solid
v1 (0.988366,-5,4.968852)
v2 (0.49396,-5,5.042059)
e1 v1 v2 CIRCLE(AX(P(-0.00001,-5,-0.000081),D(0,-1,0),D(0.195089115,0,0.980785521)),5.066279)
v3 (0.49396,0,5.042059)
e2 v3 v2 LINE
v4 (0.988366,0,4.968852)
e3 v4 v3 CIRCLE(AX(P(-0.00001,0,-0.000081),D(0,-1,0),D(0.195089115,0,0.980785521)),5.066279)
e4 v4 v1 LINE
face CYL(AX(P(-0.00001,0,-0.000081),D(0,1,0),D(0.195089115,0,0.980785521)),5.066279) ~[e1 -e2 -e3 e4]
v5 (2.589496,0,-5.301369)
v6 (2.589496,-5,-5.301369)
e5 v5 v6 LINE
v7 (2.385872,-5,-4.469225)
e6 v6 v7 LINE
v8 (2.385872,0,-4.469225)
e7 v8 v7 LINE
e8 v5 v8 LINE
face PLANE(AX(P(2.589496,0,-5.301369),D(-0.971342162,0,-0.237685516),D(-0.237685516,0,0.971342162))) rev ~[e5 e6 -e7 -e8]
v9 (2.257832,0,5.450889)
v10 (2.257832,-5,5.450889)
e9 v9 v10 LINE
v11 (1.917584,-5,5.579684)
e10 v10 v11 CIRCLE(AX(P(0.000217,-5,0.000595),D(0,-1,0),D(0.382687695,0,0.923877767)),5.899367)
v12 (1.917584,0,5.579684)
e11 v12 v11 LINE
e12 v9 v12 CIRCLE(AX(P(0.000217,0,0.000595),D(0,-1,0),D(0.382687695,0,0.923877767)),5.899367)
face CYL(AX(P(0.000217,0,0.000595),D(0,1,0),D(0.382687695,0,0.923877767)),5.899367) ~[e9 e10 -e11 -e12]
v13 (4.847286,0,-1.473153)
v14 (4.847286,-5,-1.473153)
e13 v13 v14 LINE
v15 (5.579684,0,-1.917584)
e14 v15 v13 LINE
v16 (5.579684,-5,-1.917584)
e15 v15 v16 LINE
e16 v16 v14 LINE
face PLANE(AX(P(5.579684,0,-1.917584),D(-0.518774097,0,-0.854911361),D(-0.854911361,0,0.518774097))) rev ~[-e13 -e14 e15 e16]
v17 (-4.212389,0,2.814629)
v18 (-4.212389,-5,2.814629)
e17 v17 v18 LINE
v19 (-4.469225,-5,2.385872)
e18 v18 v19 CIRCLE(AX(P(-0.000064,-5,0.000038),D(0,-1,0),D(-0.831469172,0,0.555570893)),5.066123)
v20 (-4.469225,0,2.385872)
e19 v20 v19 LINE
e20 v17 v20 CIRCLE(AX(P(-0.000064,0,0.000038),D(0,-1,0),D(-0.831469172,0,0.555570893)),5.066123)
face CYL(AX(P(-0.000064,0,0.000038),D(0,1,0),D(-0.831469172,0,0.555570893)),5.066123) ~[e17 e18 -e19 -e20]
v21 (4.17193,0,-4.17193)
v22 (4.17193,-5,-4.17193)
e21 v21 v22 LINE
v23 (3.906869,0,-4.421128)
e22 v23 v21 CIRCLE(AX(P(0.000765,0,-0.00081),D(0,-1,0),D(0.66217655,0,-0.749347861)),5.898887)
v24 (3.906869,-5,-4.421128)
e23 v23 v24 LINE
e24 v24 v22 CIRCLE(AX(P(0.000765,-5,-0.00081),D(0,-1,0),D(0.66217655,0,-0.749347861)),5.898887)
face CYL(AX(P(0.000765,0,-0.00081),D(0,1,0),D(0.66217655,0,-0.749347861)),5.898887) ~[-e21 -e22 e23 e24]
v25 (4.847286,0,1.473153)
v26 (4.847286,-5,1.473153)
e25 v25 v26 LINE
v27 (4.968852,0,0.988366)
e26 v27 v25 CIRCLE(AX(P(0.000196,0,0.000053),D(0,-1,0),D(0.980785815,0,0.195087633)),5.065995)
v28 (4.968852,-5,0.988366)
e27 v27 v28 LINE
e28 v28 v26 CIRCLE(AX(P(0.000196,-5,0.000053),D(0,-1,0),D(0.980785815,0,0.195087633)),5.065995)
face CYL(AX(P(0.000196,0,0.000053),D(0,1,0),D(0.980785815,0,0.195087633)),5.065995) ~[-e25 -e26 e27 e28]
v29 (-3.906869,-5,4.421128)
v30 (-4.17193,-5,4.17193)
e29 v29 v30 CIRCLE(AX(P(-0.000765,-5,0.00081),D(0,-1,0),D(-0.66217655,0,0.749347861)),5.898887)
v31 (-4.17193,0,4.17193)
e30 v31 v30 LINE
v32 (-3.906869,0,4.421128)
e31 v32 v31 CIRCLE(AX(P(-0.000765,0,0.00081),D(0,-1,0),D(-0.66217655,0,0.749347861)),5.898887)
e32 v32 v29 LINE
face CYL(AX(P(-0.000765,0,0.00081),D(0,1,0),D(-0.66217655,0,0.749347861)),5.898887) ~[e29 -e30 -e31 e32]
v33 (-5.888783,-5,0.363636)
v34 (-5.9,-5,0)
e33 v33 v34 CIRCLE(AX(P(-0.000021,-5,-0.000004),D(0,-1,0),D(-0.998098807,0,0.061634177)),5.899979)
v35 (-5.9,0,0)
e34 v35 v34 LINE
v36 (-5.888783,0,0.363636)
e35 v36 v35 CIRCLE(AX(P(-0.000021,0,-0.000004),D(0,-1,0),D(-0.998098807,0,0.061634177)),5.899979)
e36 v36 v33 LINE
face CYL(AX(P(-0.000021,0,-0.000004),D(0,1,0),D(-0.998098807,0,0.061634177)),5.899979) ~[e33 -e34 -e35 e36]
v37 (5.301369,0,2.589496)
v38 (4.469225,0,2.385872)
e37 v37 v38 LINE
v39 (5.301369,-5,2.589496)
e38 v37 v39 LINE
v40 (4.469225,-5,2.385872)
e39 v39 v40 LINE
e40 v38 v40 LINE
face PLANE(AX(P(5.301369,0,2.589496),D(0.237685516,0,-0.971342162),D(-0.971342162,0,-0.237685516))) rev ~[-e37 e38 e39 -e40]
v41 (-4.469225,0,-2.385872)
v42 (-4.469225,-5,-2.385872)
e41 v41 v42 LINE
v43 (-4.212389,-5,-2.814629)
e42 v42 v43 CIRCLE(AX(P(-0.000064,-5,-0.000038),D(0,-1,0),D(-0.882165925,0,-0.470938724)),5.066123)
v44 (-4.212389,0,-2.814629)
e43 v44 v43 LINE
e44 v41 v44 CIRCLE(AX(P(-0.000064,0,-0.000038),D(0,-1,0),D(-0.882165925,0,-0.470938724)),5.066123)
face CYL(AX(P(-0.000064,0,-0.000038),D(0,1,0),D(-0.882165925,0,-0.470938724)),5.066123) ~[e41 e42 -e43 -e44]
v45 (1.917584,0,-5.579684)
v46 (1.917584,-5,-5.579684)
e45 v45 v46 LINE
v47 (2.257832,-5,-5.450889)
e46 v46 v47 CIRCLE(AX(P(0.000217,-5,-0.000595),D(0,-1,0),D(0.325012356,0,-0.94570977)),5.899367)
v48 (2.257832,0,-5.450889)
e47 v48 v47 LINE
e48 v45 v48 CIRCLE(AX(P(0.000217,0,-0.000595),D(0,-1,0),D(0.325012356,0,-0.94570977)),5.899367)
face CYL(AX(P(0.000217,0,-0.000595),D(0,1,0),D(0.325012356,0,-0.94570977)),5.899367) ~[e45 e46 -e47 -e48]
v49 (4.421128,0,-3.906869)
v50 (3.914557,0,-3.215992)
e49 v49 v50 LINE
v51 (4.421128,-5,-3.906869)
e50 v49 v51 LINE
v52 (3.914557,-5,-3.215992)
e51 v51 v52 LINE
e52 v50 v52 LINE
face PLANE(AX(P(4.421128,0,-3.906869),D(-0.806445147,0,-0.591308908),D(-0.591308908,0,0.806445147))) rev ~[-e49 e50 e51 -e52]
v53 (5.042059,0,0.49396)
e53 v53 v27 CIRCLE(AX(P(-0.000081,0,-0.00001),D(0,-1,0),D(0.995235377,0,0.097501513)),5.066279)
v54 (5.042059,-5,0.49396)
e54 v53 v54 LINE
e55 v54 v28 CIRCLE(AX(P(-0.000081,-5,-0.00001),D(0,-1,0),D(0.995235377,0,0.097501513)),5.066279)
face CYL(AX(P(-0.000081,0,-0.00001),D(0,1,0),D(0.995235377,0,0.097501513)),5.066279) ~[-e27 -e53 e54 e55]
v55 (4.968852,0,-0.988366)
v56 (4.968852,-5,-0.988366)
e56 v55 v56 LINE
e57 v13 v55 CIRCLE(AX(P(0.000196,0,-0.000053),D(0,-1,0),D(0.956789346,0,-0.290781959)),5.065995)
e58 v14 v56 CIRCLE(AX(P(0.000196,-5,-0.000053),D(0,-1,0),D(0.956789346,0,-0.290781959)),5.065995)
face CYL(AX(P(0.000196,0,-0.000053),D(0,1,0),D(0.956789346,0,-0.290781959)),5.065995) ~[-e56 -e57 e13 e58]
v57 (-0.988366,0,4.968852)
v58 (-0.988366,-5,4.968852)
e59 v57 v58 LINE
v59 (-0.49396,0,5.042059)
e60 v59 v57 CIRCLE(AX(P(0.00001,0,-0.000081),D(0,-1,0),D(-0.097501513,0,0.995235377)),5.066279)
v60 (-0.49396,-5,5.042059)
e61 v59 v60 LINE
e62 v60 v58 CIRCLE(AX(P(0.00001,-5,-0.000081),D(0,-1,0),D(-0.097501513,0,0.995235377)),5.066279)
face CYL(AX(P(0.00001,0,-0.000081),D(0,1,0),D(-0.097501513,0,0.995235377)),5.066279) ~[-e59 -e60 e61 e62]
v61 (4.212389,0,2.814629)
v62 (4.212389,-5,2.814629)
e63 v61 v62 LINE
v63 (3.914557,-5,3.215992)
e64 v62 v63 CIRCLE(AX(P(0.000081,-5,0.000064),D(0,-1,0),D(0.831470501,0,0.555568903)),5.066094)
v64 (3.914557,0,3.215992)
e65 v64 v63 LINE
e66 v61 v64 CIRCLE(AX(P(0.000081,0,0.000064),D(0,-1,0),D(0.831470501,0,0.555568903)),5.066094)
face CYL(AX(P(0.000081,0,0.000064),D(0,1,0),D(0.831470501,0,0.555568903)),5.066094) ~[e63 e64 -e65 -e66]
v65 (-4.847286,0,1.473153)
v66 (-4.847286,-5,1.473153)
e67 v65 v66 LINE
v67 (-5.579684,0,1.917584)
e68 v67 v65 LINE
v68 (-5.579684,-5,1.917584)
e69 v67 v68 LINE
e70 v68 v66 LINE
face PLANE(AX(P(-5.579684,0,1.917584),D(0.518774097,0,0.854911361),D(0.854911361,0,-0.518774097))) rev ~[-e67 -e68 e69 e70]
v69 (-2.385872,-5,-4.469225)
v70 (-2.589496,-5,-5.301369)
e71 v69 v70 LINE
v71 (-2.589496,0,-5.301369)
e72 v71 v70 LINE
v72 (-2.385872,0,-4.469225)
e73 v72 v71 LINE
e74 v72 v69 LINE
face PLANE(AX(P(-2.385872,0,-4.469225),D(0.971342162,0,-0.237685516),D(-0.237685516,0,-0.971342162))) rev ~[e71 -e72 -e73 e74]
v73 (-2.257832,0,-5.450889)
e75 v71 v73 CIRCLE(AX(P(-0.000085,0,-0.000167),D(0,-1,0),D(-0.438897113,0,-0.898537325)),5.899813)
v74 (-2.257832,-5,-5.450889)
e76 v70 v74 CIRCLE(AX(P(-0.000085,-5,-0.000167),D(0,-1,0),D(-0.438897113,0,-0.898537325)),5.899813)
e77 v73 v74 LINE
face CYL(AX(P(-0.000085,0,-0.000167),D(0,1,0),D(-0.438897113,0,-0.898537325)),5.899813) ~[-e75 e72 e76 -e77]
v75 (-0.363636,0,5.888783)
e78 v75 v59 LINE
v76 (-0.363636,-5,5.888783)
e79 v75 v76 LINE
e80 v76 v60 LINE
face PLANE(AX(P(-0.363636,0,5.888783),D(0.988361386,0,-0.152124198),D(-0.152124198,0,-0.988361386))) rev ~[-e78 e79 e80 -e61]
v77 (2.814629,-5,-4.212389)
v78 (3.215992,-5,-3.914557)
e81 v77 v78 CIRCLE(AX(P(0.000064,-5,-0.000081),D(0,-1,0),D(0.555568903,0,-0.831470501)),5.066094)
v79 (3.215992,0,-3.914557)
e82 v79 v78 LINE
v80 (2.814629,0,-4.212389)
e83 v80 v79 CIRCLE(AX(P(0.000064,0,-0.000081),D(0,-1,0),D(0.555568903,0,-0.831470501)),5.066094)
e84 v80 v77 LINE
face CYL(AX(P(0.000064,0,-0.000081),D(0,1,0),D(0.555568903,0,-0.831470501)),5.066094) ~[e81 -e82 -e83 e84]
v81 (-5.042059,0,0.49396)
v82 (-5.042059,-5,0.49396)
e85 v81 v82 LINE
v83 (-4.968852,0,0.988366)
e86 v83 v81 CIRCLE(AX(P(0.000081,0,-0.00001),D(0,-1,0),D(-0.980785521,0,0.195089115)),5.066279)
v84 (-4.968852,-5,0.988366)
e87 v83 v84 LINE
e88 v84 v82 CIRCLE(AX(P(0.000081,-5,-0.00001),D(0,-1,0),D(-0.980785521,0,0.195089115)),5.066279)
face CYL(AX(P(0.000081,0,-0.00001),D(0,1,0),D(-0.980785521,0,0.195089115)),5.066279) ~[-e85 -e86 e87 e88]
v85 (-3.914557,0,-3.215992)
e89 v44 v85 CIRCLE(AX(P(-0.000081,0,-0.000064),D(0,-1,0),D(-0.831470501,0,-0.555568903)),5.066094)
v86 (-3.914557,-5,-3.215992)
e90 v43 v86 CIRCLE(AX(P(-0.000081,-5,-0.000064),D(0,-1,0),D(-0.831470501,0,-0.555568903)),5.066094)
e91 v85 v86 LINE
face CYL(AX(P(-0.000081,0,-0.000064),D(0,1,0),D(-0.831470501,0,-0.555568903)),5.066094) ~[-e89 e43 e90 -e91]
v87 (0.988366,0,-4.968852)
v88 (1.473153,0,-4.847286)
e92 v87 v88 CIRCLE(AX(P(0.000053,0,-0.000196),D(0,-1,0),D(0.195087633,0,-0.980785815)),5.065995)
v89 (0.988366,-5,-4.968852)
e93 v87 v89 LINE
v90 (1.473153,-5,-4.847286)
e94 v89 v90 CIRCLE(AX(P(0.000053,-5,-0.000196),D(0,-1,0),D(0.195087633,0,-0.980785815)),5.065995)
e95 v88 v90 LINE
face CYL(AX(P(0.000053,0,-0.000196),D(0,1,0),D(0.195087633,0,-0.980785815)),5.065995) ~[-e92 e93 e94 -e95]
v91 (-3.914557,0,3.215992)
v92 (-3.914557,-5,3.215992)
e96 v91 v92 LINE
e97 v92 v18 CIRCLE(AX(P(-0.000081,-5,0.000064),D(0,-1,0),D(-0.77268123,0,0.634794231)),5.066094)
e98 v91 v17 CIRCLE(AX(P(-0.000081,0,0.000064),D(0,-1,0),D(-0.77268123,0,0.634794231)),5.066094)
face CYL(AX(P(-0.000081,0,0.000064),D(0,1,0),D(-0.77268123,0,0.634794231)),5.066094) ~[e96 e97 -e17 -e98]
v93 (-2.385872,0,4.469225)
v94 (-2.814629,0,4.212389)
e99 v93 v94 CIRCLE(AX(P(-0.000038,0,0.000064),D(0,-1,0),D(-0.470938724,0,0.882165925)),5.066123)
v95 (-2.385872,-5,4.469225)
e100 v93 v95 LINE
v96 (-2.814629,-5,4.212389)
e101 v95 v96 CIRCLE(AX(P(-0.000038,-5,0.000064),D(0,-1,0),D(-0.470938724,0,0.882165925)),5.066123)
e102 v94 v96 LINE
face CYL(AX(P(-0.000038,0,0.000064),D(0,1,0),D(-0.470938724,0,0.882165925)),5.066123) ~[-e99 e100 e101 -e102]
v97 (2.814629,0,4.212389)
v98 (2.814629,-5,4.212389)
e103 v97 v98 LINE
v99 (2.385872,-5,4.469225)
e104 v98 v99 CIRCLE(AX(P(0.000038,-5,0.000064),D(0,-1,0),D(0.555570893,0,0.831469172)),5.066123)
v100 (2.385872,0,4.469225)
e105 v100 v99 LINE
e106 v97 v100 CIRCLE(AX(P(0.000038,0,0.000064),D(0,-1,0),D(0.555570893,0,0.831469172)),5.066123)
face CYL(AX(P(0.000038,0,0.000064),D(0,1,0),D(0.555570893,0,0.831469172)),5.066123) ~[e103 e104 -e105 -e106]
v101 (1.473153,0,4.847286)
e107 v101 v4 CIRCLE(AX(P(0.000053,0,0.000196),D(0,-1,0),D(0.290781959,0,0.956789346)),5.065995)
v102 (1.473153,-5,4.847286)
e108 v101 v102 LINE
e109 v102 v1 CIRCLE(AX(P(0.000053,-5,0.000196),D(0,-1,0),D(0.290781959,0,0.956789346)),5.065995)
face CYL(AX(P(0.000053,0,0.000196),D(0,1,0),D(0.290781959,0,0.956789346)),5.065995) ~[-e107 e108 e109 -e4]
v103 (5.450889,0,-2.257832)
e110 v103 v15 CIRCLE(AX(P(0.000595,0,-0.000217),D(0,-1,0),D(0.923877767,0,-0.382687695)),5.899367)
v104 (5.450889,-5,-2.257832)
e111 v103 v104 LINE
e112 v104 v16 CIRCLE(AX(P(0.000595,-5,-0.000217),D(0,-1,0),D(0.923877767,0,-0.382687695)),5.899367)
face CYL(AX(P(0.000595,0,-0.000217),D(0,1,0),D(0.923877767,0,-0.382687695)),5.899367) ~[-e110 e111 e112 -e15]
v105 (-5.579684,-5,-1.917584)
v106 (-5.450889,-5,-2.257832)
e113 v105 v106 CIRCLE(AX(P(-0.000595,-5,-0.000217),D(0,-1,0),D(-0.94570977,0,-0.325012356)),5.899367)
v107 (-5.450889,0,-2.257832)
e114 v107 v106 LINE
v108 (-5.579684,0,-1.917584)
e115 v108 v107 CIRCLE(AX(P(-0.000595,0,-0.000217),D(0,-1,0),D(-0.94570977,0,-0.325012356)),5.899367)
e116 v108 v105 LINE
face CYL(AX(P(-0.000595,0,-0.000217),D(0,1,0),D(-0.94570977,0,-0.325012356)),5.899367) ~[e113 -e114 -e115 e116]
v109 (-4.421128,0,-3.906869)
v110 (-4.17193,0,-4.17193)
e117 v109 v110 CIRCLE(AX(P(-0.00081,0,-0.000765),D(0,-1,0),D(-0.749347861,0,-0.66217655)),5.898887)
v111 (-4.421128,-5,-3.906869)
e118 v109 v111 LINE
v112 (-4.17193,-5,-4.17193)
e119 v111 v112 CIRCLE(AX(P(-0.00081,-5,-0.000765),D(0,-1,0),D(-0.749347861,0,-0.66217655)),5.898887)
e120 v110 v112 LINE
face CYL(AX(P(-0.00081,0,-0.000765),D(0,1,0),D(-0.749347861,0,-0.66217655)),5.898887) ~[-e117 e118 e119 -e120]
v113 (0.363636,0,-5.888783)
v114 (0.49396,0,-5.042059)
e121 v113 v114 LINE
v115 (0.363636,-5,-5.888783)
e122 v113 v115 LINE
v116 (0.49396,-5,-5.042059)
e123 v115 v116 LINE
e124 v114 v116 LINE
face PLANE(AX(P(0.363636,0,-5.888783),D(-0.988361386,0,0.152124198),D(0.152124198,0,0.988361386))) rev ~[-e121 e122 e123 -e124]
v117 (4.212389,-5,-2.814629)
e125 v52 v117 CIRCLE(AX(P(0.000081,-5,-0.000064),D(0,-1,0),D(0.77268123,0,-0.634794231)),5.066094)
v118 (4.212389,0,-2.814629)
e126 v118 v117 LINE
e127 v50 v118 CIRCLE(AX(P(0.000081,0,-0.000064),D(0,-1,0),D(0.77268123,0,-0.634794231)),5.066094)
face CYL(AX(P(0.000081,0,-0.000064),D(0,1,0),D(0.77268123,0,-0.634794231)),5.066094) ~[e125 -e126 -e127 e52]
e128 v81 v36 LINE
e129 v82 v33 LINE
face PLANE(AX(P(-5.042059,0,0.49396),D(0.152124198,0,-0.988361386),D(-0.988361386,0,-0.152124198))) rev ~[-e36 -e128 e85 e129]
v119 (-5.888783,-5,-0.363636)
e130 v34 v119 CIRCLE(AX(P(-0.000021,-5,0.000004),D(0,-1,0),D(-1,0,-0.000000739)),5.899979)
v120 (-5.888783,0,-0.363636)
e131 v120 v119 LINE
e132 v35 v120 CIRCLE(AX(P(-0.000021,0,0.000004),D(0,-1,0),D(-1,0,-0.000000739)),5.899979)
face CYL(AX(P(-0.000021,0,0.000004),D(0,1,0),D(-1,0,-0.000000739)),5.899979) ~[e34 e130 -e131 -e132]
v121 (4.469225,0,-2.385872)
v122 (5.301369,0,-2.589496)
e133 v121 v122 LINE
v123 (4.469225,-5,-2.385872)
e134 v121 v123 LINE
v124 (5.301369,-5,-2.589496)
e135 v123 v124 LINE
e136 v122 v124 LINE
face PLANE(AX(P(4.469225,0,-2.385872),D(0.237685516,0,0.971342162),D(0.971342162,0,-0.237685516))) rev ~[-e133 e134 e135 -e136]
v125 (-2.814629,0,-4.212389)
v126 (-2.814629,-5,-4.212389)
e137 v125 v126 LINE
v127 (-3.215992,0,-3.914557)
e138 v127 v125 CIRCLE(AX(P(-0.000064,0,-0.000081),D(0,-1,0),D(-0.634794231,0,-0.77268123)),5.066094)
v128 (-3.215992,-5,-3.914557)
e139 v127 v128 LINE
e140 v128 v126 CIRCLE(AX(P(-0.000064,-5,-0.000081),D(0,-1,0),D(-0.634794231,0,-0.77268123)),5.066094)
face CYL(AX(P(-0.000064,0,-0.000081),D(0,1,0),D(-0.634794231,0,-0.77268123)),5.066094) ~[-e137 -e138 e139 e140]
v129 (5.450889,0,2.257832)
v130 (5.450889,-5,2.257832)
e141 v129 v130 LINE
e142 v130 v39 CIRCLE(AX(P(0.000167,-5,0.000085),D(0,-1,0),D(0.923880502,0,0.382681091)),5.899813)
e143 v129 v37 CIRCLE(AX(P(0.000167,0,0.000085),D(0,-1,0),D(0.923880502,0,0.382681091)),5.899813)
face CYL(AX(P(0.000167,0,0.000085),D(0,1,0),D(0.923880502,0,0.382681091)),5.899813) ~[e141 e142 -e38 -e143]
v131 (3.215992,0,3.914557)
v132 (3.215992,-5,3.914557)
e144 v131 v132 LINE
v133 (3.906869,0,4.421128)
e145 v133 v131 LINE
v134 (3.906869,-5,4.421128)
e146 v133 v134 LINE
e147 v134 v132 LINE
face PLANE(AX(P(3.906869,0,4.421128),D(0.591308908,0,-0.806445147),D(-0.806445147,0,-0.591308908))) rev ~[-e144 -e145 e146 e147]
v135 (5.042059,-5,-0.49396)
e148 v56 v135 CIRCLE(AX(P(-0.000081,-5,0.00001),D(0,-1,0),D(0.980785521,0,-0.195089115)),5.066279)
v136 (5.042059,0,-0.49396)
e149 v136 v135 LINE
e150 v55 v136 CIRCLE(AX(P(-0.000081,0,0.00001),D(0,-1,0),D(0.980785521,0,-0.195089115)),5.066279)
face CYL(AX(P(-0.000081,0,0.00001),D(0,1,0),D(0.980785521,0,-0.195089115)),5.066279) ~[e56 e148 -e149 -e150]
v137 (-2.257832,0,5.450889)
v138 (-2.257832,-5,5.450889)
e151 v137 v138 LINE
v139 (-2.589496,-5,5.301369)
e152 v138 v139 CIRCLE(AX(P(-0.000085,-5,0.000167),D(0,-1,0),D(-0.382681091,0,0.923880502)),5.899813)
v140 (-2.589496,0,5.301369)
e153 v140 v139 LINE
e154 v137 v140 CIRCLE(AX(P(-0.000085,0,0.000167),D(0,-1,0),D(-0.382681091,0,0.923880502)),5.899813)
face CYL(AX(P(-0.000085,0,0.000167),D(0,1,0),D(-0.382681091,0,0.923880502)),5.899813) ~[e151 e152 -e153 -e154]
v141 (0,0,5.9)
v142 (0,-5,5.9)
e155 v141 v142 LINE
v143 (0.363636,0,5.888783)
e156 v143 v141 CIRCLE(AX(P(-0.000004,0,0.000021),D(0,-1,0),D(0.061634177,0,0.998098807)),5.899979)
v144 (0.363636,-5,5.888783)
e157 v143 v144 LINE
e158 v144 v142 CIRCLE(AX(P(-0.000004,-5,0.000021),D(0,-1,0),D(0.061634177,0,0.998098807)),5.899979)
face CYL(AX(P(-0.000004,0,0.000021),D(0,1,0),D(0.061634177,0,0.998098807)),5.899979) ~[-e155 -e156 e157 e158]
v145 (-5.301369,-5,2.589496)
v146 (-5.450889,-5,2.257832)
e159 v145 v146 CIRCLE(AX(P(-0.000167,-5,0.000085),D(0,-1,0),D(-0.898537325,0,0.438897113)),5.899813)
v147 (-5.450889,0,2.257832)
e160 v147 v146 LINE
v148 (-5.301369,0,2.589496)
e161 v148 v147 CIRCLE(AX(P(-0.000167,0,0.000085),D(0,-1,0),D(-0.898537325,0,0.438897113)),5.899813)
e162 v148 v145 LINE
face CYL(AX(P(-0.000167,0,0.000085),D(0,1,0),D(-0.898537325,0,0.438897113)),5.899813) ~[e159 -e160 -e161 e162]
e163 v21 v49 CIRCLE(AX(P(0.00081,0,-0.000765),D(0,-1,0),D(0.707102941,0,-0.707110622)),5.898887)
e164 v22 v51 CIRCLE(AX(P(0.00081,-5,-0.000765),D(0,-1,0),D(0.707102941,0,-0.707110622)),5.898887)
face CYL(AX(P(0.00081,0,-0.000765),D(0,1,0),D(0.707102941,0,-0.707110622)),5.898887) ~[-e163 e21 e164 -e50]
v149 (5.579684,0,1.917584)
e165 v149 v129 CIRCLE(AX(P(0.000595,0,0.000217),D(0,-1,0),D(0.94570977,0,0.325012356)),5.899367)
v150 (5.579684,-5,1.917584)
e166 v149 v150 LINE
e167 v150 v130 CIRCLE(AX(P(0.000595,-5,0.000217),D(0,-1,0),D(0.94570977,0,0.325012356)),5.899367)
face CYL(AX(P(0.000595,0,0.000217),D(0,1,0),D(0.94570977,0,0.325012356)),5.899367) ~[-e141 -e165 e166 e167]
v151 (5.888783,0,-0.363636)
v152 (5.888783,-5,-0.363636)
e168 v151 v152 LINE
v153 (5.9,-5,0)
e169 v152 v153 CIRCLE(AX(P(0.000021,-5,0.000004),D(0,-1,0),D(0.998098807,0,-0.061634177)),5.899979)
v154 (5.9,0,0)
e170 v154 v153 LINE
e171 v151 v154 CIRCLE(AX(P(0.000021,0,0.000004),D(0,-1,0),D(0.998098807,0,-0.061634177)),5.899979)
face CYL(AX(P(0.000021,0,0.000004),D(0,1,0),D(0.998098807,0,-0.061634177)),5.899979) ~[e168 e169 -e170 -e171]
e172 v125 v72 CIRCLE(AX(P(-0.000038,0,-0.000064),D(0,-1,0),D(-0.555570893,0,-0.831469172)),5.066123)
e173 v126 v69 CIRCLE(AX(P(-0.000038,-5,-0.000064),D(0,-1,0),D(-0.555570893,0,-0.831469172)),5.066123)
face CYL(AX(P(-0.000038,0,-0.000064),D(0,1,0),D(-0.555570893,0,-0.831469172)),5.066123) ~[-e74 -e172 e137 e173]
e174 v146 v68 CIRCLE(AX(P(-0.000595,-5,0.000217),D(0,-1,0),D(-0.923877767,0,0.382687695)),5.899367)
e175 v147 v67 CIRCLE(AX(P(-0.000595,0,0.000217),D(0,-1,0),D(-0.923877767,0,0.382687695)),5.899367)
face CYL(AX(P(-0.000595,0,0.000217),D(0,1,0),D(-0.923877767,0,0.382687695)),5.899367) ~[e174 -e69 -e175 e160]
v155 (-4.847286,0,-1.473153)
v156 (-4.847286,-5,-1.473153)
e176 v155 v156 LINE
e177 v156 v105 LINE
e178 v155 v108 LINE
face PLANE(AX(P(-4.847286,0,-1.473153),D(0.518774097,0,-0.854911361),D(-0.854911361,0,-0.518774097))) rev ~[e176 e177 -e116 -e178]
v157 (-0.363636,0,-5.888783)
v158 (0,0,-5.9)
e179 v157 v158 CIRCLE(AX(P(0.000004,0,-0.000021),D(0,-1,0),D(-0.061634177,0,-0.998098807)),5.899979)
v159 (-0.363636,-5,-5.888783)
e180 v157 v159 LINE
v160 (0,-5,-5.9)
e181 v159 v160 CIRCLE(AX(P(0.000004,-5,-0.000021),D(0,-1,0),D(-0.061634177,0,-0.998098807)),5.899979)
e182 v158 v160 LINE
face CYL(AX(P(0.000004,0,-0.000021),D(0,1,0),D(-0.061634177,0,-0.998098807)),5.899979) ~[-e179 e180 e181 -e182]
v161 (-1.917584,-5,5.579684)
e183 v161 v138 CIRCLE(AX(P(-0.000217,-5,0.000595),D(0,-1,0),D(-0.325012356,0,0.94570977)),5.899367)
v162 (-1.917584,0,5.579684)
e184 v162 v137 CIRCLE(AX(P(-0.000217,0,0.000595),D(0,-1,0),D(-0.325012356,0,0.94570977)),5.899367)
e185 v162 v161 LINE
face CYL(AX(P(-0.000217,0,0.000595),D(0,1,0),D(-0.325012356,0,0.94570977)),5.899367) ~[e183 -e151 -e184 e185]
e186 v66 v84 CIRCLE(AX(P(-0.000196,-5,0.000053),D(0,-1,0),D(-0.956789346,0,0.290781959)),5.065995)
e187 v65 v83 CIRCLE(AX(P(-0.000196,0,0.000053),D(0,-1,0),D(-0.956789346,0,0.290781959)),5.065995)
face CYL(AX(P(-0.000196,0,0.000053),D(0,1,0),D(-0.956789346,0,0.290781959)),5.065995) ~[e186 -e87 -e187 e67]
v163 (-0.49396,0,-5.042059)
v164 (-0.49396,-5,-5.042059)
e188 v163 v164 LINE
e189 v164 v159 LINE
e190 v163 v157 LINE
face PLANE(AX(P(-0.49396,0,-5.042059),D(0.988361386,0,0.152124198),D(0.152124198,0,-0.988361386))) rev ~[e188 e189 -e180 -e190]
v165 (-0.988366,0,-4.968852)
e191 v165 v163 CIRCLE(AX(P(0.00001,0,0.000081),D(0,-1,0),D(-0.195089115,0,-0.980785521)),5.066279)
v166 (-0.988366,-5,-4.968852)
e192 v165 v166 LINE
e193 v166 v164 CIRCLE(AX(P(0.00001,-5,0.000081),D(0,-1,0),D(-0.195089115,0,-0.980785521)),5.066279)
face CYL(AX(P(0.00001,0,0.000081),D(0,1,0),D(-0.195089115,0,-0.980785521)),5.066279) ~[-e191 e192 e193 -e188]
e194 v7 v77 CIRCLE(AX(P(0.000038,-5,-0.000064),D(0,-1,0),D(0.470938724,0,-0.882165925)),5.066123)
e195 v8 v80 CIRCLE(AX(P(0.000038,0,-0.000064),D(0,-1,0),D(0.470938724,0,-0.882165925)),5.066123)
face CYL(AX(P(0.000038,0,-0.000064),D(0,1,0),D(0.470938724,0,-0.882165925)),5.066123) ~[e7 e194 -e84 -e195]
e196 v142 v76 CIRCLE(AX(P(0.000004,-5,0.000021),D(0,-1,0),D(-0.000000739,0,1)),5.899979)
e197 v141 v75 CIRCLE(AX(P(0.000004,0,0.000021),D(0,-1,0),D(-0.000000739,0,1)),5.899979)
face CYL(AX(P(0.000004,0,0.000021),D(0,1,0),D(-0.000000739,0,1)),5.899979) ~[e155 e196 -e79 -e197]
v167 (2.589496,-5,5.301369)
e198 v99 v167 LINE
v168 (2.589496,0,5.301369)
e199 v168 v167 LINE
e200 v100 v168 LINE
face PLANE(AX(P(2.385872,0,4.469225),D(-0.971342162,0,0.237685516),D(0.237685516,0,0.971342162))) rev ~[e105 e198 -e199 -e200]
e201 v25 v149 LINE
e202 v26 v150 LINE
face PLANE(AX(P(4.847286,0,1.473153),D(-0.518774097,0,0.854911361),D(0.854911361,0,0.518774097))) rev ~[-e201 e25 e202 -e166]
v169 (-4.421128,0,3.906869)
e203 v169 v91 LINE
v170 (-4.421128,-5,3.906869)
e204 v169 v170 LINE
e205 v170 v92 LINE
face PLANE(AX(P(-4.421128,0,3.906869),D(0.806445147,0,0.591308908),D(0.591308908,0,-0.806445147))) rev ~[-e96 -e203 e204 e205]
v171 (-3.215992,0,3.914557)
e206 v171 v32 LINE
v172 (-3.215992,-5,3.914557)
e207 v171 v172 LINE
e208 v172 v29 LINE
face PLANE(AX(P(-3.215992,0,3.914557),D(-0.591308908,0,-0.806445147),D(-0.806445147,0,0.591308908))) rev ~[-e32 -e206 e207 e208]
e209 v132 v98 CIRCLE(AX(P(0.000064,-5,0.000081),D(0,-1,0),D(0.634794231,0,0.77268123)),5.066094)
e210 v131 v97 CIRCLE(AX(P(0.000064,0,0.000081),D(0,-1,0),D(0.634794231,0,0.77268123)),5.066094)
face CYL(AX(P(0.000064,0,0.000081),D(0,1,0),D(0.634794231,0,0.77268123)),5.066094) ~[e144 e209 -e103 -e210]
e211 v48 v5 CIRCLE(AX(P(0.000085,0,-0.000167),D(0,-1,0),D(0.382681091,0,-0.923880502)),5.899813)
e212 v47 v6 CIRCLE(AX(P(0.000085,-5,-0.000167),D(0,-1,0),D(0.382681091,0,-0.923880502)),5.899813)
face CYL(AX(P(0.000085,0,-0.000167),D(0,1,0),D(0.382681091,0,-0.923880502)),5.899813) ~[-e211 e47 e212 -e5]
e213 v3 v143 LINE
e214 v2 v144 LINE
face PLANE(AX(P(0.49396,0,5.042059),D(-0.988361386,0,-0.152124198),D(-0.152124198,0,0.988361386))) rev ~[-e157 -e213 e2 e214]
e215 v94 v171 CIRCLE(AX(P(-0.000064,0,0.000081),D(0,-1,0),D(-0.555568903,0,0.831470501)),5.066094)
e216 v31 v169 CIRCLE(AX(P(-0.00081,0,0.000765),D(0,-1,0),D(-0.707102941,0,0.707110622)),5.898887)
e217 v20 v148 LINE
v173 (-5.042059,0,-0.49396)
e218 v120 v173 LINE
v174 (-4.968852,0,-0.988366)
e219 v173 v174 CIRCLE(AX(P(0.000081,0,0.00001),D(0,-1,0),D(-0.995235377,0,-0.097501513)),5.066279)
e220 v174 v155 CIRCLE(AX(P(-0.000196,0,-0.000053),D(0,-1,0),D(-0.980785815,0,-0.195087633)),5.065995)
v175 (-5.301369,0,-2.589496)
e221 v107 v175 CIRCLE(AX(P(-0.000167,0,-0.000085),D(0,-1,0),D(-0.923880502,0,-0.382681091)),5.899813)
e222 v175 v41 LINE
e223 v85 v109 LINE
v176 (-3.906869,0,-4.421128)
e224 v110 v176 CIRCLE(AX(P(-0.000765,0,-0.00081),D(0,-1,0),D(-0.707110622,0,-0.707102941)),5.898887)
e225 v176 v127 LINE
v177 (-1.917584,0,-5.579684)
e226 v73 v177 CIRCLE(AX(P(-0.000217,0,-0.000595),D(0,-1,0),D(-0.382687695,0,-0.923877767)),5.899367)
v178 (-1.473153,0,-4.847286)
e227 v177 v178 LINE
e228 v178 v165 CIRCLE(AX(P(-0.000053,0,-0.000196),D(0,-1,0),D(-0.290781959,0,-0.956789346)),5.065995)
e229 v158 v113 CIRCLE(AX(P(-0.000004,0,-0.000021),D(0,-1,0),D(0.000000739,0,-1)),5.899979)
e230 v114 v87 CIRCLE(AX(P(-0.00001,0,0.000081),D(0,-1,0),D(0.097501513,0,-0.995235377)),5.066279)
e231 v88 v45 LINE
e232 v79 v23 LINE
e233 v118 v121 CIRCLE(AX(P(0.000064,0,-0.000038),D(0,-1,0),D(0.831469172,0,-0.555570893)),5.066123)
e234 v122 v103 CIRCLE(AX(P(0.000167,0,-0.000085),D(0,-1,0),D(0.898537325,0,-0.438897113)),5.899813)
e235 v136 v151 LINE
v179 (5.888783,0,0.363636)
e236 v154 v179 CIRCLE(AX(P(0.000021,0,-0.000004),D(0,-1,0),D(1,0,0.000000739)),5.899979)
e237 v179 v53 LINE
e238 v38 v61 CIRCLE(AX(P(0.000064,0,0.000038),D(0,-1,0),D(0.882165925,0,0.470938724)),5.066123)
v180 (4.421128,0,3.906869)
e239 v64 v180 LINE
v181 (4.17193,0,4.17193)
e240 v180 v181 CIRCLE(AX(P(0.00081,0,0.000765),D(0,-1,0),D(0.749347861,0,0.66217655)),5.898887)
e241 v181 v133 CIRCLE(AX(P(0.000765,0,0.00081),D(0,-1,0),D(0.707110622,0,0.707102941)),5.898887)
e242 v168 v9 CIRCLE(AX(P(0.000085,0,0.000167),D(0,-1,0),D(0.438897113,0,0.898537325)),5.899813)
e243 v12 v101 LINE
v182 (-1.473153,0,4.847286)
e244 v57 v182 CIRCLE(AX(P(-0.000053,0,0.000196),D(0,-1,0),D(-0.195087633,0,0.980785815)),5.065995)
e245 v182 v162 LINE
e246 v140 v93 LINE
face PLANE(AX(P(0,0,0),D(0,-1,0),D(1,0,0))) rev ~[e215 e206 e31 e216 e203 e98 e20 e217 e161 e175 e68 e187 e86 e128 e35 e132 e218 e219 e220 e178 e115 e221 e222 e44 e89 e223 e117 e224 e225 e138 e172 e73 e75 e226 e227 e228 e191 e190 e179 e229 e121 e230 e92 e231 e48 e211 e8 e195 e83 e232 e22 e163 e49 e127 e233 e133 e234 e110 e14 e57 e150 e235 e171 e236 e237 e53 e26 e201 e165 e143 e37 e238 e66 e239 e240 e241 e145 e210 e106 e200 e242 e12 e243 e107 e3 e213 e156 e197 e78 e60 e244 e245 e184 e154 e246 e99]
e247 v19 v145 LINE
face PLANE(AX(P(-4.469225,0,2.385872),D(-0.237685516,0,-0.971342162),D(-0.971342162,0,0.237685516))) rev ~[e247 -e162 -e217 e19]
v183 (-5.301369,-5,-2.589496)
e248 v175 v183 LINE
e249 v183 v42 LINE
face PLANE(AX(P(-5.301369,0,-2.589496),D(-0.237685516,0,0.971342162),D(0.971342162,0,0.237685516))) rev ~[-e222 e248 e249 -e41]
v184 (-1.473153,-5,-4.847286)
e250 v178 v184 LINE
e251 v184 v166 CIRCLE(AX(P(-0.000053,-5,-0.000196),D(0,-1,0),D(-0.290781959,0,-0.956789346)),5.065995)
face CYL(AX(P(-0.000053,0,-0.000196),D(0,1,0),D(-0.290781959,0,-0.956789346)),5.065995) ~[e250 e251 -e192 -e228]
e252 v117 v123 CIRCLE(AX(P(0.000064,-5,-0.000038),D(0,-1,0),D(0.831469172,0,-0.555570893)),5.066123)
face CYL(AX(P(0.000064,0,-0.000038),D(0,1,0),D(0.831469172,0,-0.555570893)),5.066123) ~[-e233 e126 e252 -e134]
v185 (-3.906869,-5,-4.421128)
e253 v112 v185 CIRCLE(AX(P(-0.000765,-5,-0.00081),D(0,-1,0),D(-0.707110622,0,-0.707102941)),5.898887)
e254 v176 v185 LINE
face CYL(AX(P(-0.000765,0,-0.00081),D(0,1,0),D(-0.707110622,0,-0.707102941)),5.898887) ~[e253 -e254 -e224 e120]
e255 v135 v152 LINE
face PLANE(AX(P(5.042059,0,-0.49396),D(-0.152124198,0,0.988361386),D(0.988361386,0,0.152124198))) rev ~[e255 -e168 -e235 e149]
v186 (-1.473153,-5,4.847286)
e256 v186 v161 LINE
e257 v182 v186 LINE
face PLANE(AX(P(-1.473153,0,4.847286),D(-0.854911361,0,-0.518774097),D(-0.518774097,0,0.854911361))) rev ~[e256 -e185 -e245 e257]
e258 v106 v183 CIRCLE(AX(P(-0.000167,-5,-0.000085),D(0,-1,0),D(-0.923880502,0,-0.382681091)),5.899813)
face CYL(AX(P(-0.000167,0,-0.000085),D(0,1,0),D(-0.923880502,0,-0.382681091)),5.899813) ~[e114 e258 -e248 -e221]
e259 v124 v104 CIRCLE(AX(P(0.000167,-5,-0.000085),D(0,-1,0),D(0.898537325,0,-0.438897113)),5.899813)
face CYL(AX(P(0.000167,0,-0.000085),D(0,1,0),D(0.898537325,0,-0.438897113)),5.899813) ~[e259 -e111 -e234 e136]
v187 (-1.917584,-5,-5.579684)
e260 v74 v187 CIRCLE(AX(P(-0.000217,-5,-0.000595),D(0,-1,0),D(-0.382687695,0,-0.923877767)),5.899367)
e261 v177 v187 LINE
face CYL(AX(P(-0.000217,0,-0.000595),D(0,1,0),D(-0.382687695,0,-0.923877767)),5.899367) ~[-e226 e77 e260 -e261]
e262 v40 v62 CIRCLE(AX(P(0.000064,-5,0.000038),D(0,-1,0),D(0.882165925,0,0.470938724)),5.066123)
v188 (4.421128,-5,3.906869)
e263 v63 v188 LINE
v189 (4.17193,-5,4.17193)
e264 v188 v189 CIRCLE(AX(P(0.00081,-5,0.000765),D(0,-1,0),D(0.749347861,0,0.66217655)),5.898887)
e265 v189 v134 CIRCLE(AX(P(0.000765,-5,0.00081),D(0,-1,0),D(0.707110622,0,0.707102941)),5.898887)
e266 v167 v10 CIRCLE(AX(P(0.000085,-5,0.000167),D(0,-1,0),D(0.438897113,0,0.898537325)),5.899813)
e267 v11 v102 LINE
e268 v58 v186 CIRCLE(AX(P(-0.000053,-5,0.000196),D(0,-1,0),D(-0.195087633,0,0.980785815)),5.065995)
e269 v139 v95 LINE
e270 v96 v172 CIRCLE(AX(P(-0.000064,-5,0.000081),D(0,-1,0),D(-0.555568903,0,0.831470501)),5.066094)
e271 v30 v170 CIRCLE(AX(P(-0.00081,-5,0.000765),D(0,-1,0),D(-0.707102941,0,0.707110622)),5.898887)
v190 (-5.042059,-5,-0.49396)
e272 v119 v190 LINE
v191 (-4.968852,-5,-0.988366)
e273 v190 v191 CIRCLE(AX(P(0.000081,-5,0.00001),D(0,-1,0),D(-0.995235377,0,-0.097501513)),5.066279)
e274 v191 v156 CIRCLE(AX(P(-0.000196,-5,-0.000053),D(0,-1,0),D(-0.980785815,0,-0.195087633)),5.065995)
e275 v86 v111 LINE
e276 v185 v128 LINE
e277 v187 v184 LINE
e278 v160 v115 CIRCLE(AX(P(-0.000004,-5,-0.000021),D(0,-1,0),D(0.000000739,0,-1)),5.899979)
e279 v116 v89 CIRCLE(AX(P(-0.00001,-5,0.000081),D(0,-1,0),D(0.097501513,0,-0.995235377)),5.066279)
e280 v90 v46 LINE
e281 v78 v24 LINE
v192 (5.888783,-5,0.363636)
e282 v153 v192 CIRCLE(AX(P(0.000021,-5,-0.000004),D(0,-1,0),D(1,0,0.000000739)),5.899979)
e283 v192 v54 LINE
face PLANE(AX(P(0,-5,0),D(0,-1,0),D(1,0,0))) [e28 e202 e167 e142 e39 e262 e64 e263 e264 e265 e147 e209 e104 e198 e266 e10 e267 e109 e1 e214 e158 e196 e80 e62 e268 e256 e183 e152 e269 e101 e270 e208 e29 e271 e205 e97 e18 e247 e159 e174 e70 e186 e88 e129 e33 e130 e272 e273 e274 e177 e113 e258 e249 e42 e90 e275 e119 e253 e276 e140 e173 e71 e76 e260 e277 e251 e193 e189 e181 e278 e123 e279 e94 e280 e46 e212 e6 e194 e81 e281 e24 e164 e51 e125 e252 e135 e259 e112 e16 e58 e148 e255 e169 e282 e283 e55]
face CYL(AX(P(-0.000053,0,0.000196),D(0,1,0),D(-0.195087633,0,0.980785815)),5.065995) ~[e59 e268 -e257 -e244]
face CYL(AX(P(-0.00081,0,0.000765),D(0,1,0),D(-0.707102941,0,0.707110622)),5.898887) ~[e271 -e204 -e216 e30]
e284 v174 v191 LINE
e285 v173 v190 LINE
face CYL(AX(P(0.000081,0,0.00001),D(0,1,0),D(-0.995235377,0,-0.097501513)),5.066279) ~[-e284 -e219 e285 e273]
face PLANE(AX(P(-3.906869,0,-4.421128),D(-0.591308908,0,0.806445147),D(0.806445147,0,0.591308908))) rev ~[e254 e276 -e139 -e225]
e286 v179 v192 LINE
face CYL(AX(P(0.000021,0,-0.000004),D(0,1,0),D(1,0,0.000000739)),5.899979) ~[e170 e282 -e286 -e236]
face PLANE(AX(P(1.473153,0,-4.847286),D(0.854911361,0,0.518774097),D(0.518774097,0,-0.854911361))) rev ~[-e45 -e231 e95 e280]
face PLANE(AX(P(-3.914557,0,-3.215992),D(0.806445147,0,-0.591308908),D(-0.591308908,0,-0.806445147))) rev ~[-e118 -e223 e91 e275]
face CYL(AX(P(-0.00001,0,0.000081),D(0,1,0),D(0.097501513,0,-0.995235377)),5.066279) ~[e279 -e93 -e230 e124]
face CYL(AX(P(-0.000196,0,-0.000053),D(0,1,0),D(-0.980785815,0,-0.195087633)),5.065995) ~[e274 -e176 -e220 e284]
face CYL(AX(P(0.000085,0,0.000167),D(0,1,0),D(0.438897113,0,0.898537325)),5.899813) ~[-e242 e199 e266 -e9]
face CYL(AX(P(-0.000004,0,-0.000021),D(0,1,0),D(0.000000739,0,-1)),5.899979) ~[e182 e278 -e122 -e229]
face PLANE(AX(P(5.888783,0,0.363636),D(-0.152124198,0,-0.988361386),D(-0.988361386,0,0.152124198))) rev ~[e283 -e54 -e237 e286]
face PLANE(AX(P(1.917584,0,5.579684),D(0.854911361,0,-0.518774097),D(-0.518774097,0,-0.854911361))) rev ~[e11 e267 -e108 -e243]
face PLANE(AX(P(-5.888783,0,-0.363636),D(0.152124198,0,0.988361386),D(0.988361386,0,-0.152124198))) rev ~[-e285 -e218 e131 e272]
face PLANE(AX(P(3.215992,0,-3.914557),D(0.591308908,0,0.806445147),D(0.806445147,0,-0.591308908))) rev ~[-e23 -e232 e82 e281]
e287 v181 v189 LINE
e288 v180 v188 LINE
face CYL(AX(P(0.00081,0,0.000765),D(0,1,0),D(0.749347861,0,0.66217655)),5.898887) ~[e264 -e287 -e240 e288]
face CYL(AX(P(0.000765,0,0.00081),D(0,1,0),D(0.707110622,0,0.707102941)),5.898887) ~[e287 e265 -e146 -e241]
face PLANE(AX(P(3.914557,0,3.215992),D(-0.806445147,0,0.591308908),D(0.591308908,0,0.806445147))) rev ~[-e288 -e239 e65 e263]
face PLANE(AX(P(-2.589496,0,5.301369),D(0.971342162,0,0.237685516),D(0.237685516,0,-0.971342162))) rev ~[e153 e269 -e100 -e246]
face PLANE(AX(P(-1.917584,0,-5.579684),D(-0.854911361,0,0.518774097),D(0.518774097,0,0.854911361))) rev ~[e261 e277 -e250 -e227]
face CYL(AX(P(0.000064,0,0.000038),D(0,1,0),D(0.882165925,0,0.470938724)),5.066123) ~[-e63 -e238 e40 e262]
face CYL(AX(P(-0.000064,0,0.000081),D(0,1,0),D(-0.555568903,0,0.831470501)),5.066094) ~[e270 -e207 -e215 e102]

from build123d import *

# Parameters (mm, degrees)
F1_DEPTH = 5


with BuildPart() as f1:
    # F0 (on Front) → F1 (new body)
    with BuildSketch(Plane.XZ):
        with BuildLine():
            ThreePointArc((4.847286, -1.473153), (4.914051, -1.23226), (4.968852, -0.988366))
            ThreePointArc((4.968852, -0.988366), (5.011556, -0.742066), (5.042059, -0.49396))
            Line((5.042059, -0.49396), (5.888783, -0.363636))
            ThreePointArc((5.888783, -0.363636), (5.897195, -0.181905), (5.9, 0))
            ThreePointArc((5.9, 0), (5.897195, 0.181905), (5.888783, 0.363636))
            Line((5.888783, 0.363636), (5.042059, 0.49396))
            ThreePointArc((5.042059, 0.49396), (5.011556, 0.742066), (4.968852, 0.988366))
            ThreePointArc((4.968852, 0.988366), (4.914051, 1.23226), (4.847286, 1.473153))
            Line((4.847286, 1.473153), (5.579684, 1.917584))
            ThreePointArc((5.579684, 1.917584), (5.51791, 2.088701), (5.450889, 2.257832))
            ThreePointArc((5.450889, 2.257832), (5.378686, 2.424817), (5.301369, 2.589496))
            Line((5.301369, 2.589496), (4.469225, 2.385872))
            ThreePointArc((4.469225, 2.385872), (4.346098, 2.603419), (4.212389, 2.814629))
            ThreePointArc((4.212389, 2.814629), (4.068426, 3.018985), (3.914557, 3.215992))
            Line((3.914557, 3.215992), (4.421128, 3.906869))
            ThreePointArc((4.421128, 3.906869), (4.298573, 4.041321), (4.17193, 4.17193))
            ThreePointArc((4.17193, 4.17193), (4.041321, 4.298573), (3.906869, 4.421128))
            Line((3.906869, 4.421128), (3.215992, 3.914557))
            ThreePointArc((3.215992, 3.914557), (3.018985, 4.068426), (2.814629, 4.212389))
            ThreePointArc((2.814629, 4.212389), (2.603419, 4.346098), (2.385872, 4.469225))
            Line((2.385872, 4.469225), (2.589496, 5.301369))
            ThreePointArc((2.589496, 5.301369), (2.424817, 5.378686), (2.257832, 5.450889))
            ThreePointArc((2.257832, 5.450889), (2.088701, 5.51791), (1.917584, 5.579684))
            Line((1.917584, 5.579684), (1.473153, 4.847286))
            ThreePointArc((1.473153, 4.847286), (1.23226, 4.914051), (0.988366, 4.968852))
            ThreePointArc((0.988366, 4.968852), (0.742066, 5.011556), (0.49396, 5.042059))
            Line((0.49396, 5.042059), (0.363636, 5.888783))
            ThreePointArc((0.363636, 5.888783), (0.181905, 5.897195), (0, 5.9))
            ThreePointArc((0, 5.9), (-0.181905, 5.897195), (-0.363636, 5.888783))
            Line((-0.363636, 5.888783), (-0.49396, 5.042059))
            ThreePointArc((-0.49396, 5.042059), (-0.742066, 5.011556), (-0.988366, 4.968852))
            ThreePointArc((-0.988366, 4.968852), (-1.23226, 4.914051), (-1.473153, 4.847286))
            Line((-1.473153, 4.847286), (-1.917584, 5.579684))
            ThreePointArc((-1.917584, 5.579684), (-2.088701, 5.51791), (-2.257832, 5.450889))
            ThreePointArc((-2.257832, 5.450889), (-2.424817, 5.378686), (-2.589496, 5.301369))
            Line((-2.589496, 5.301369), (-2.385872, 4.469225))
            ThreePointArc((-2.385872, 4.469225), (-2.603419, 4.346098), (-2.814629, 4.212389))
            ThreePointArc((-2.814629, 4.212389), (-3.018985, 4.068426), (-3.215992, 3.914557))
            Line((-3.215992, 3.914557), (-3.906869, 4.421128))
            ThreePointArc((-3.906869, 4.421128), (-4.041321, 4.298573), (-4.17193, 4.17193))
            ThreePointArc((-4.17193, 4.17193), (-4.298573, 4.041321), (-4.421128, 3.906869))
            Line((-4.421128, 3.906869), (-3.914557, 3.215992))
            ThreePointArc((-3.914557, 3.215992), (-4.068426, 3.018985), (-4.212389, 2.814629))
            ThreePointArc((-4.212389, 2.814629), (-4.346098, 2.603419), (-4.469225, 2.385872))
            Line((-4.469225, 2.385872), (-5.301369, 2.589496))
            ThreePointArc((-5.301369, 2.589496), (-5.378686, 2.424817), (-5.450889, 2.257832))
            ThreePointArc((-5.450889, 2.257832), (-5.51791, 2.088701), (-5.579684, 1.917584))
            Line((-5.579684, 1.917584), (-4.847286, 1.473153))
            ThreePointArc((-4.847286, 1.473153), (-4.914051, 1.23226), (-4.968852, 0.988366))
            ThreePointArc((-4.968852, 0.988366), (-5.011556, 0.742066), (-5.042059, 0.49396))
            Line((-5.042059, 0.49396), (-5.888783, 0.363636))
            ThreePointArc((-5.888783, 0.363636), (-5.897195, 0.181905), (-5.9, 0))
            ThreePointArc((-5.9, 0), (-5.897195, -0.181905), (-5.888783, -0.363636))
            Line((-5.888783, -0.363636), (-5.042059, -0.49396))
            ThreePointArc((-5.042059, -0.49396), (-5.011556, -0.742066), (-4.968852, -0.988366))
            ThreePointArc((-4.968852, -0.988366), (-4.914051, -1.23226), (-4.847286, -1.473153))
            Line((-4.847286, -1.473153), (-5.579684, -1.917584))
            ThreePointArc((-5.579684, -1.917584), (-5.51791, -2.088701), (-5.450889, -2.257832))
            ThreePointArc((-5.450889, -2.257832), (-5.378686, -2.424817), (-5.301369, -2.589496))
            Line((-5.301369, -2.589496), (-4.469225, -2.385872))
            ThreePointArc((-4.469225, -2.385872), (-4.346098, -2.603419), (-4.212389, -2.814629))
            ThreePointArc((-4.212389, -2.814629), (-4.068426, -3.018985), (-3.914557, -3.215992))
            Line((-3.914557, -3.215992), (-4.421128, -3.906869))
            ThreePointArc((-4.421128, -3.906869), (-4.298573, -4.041321), (-4.17193, -4.17193))
            ThreePointArc((-4.17193, -4.17193), (-4.041321, -4.298573), (-3.906869, -4.421128))
            Line((-3.906869, -4.421128), (-3.215992, -3.914557))
            ThreePointArc((-3.215992, -3.914557), (-3.018985, -4.068426), (-2.814629, -4.212389))
            ThreePointArc((-2.814629, -4.212389), (-2.603419, -4.346098), (-2.385872, -4.469225))
            Line((-2.385872, -4.469225), (-2.589496, -5.301369))
            ThreePointArc((-2.589496, -5.301369), (-2.424817, -5.378686), (-2.257832, -5.450889))
            ThreePointArc((-2.257832, -5.450889), (-2.088701, -5.51791), (-1.917584, -5.579684))
            Line((-1.917584, -5.579684), (-1.473153, -4.847286))
            ThreePointArc((-1.473153, -4.847286), (-1.23226, -4.914051), (-0.988366, -4.968852))
            ThreePointArc((-0.988366, -4.968852), (-0.742066, -5.011556), (-0.49396, -5.042059))
            Line((-0.49396, -5.042059), (-0.363636, -5.888783))
            ThreePointArc((-0.363636, -5.888783), (-0.181905, -5.897195), (0, -5.9))
            ThreePointArc((0, -5.9), (0.181905, -5.897195), (0.363636, -5.888783))
            Line((0.363636, -5.888783), (0.49396, -5.042059))
            ThreePointArc((0.49396, -5.042059), (0.742066, -5.011556), (0.988366, -4.968852))
            ThreePointArc((0.988366, -4.968852), (1.23226, -4.914051), (1.473153, -4.847286))
            Line((1.473153, -4.847286), (1.917584, -5.579684))
            ThreePointArc((1.917584, -5.579684), (2.088701, -5.51791), (2.257832, -5.450889))
            ThreePointArc((2.257832, -5.450889), (2.424817, -5.378686), (2.589496, -5.301369))
            Line((2.589496, -5.301369), (2.385872, -4.469225))
            ThreePointArc((2.385872, -4.469225), (2.603419, -4.346098), (2.814629, -4.212389))
            ThreePointArc((2.814629, -4.212389), (3.018985, -4.068426), (3.215992, -3.914557))
            Line((3.215992, -3.914557), (3.906869, -4.421128))
            ThreePointArc((3.906869, -4.421128), (4.041321, -4.298573), (4.17193, -4.17193))
            ThreePointArc((4.17193, -4.17193), (4.298573, -4.041321), (4.421128, -3.906869))
            Line((4.421128, -3.906869), (3.914557, -3.215992))
            ThreePointArc((3.914557, -3.215992), (4.068426, -3.018985), (4.212389, -2.814629))
            ThreePointArc((4.212389, -2.814629), (4.346098, -2.603419), (4.469225, -2.385872))
            Line((4.469225, -2.385872), (5.301369, -2.589496))
            ThreePointArc((5.301369, -2.589496), (5.378686, -2.424817), (5.450889, -2.257832))
            ThreePointArc((5.450889, -2.257832), (5.51791, -2.088701), (5.579684, -1.917584))
            Line((5.579684, -1.917584), (4.847286, -1.473153))
        make_face()
    extrude(amount=F1_DEPTH)


solid = f1.part
